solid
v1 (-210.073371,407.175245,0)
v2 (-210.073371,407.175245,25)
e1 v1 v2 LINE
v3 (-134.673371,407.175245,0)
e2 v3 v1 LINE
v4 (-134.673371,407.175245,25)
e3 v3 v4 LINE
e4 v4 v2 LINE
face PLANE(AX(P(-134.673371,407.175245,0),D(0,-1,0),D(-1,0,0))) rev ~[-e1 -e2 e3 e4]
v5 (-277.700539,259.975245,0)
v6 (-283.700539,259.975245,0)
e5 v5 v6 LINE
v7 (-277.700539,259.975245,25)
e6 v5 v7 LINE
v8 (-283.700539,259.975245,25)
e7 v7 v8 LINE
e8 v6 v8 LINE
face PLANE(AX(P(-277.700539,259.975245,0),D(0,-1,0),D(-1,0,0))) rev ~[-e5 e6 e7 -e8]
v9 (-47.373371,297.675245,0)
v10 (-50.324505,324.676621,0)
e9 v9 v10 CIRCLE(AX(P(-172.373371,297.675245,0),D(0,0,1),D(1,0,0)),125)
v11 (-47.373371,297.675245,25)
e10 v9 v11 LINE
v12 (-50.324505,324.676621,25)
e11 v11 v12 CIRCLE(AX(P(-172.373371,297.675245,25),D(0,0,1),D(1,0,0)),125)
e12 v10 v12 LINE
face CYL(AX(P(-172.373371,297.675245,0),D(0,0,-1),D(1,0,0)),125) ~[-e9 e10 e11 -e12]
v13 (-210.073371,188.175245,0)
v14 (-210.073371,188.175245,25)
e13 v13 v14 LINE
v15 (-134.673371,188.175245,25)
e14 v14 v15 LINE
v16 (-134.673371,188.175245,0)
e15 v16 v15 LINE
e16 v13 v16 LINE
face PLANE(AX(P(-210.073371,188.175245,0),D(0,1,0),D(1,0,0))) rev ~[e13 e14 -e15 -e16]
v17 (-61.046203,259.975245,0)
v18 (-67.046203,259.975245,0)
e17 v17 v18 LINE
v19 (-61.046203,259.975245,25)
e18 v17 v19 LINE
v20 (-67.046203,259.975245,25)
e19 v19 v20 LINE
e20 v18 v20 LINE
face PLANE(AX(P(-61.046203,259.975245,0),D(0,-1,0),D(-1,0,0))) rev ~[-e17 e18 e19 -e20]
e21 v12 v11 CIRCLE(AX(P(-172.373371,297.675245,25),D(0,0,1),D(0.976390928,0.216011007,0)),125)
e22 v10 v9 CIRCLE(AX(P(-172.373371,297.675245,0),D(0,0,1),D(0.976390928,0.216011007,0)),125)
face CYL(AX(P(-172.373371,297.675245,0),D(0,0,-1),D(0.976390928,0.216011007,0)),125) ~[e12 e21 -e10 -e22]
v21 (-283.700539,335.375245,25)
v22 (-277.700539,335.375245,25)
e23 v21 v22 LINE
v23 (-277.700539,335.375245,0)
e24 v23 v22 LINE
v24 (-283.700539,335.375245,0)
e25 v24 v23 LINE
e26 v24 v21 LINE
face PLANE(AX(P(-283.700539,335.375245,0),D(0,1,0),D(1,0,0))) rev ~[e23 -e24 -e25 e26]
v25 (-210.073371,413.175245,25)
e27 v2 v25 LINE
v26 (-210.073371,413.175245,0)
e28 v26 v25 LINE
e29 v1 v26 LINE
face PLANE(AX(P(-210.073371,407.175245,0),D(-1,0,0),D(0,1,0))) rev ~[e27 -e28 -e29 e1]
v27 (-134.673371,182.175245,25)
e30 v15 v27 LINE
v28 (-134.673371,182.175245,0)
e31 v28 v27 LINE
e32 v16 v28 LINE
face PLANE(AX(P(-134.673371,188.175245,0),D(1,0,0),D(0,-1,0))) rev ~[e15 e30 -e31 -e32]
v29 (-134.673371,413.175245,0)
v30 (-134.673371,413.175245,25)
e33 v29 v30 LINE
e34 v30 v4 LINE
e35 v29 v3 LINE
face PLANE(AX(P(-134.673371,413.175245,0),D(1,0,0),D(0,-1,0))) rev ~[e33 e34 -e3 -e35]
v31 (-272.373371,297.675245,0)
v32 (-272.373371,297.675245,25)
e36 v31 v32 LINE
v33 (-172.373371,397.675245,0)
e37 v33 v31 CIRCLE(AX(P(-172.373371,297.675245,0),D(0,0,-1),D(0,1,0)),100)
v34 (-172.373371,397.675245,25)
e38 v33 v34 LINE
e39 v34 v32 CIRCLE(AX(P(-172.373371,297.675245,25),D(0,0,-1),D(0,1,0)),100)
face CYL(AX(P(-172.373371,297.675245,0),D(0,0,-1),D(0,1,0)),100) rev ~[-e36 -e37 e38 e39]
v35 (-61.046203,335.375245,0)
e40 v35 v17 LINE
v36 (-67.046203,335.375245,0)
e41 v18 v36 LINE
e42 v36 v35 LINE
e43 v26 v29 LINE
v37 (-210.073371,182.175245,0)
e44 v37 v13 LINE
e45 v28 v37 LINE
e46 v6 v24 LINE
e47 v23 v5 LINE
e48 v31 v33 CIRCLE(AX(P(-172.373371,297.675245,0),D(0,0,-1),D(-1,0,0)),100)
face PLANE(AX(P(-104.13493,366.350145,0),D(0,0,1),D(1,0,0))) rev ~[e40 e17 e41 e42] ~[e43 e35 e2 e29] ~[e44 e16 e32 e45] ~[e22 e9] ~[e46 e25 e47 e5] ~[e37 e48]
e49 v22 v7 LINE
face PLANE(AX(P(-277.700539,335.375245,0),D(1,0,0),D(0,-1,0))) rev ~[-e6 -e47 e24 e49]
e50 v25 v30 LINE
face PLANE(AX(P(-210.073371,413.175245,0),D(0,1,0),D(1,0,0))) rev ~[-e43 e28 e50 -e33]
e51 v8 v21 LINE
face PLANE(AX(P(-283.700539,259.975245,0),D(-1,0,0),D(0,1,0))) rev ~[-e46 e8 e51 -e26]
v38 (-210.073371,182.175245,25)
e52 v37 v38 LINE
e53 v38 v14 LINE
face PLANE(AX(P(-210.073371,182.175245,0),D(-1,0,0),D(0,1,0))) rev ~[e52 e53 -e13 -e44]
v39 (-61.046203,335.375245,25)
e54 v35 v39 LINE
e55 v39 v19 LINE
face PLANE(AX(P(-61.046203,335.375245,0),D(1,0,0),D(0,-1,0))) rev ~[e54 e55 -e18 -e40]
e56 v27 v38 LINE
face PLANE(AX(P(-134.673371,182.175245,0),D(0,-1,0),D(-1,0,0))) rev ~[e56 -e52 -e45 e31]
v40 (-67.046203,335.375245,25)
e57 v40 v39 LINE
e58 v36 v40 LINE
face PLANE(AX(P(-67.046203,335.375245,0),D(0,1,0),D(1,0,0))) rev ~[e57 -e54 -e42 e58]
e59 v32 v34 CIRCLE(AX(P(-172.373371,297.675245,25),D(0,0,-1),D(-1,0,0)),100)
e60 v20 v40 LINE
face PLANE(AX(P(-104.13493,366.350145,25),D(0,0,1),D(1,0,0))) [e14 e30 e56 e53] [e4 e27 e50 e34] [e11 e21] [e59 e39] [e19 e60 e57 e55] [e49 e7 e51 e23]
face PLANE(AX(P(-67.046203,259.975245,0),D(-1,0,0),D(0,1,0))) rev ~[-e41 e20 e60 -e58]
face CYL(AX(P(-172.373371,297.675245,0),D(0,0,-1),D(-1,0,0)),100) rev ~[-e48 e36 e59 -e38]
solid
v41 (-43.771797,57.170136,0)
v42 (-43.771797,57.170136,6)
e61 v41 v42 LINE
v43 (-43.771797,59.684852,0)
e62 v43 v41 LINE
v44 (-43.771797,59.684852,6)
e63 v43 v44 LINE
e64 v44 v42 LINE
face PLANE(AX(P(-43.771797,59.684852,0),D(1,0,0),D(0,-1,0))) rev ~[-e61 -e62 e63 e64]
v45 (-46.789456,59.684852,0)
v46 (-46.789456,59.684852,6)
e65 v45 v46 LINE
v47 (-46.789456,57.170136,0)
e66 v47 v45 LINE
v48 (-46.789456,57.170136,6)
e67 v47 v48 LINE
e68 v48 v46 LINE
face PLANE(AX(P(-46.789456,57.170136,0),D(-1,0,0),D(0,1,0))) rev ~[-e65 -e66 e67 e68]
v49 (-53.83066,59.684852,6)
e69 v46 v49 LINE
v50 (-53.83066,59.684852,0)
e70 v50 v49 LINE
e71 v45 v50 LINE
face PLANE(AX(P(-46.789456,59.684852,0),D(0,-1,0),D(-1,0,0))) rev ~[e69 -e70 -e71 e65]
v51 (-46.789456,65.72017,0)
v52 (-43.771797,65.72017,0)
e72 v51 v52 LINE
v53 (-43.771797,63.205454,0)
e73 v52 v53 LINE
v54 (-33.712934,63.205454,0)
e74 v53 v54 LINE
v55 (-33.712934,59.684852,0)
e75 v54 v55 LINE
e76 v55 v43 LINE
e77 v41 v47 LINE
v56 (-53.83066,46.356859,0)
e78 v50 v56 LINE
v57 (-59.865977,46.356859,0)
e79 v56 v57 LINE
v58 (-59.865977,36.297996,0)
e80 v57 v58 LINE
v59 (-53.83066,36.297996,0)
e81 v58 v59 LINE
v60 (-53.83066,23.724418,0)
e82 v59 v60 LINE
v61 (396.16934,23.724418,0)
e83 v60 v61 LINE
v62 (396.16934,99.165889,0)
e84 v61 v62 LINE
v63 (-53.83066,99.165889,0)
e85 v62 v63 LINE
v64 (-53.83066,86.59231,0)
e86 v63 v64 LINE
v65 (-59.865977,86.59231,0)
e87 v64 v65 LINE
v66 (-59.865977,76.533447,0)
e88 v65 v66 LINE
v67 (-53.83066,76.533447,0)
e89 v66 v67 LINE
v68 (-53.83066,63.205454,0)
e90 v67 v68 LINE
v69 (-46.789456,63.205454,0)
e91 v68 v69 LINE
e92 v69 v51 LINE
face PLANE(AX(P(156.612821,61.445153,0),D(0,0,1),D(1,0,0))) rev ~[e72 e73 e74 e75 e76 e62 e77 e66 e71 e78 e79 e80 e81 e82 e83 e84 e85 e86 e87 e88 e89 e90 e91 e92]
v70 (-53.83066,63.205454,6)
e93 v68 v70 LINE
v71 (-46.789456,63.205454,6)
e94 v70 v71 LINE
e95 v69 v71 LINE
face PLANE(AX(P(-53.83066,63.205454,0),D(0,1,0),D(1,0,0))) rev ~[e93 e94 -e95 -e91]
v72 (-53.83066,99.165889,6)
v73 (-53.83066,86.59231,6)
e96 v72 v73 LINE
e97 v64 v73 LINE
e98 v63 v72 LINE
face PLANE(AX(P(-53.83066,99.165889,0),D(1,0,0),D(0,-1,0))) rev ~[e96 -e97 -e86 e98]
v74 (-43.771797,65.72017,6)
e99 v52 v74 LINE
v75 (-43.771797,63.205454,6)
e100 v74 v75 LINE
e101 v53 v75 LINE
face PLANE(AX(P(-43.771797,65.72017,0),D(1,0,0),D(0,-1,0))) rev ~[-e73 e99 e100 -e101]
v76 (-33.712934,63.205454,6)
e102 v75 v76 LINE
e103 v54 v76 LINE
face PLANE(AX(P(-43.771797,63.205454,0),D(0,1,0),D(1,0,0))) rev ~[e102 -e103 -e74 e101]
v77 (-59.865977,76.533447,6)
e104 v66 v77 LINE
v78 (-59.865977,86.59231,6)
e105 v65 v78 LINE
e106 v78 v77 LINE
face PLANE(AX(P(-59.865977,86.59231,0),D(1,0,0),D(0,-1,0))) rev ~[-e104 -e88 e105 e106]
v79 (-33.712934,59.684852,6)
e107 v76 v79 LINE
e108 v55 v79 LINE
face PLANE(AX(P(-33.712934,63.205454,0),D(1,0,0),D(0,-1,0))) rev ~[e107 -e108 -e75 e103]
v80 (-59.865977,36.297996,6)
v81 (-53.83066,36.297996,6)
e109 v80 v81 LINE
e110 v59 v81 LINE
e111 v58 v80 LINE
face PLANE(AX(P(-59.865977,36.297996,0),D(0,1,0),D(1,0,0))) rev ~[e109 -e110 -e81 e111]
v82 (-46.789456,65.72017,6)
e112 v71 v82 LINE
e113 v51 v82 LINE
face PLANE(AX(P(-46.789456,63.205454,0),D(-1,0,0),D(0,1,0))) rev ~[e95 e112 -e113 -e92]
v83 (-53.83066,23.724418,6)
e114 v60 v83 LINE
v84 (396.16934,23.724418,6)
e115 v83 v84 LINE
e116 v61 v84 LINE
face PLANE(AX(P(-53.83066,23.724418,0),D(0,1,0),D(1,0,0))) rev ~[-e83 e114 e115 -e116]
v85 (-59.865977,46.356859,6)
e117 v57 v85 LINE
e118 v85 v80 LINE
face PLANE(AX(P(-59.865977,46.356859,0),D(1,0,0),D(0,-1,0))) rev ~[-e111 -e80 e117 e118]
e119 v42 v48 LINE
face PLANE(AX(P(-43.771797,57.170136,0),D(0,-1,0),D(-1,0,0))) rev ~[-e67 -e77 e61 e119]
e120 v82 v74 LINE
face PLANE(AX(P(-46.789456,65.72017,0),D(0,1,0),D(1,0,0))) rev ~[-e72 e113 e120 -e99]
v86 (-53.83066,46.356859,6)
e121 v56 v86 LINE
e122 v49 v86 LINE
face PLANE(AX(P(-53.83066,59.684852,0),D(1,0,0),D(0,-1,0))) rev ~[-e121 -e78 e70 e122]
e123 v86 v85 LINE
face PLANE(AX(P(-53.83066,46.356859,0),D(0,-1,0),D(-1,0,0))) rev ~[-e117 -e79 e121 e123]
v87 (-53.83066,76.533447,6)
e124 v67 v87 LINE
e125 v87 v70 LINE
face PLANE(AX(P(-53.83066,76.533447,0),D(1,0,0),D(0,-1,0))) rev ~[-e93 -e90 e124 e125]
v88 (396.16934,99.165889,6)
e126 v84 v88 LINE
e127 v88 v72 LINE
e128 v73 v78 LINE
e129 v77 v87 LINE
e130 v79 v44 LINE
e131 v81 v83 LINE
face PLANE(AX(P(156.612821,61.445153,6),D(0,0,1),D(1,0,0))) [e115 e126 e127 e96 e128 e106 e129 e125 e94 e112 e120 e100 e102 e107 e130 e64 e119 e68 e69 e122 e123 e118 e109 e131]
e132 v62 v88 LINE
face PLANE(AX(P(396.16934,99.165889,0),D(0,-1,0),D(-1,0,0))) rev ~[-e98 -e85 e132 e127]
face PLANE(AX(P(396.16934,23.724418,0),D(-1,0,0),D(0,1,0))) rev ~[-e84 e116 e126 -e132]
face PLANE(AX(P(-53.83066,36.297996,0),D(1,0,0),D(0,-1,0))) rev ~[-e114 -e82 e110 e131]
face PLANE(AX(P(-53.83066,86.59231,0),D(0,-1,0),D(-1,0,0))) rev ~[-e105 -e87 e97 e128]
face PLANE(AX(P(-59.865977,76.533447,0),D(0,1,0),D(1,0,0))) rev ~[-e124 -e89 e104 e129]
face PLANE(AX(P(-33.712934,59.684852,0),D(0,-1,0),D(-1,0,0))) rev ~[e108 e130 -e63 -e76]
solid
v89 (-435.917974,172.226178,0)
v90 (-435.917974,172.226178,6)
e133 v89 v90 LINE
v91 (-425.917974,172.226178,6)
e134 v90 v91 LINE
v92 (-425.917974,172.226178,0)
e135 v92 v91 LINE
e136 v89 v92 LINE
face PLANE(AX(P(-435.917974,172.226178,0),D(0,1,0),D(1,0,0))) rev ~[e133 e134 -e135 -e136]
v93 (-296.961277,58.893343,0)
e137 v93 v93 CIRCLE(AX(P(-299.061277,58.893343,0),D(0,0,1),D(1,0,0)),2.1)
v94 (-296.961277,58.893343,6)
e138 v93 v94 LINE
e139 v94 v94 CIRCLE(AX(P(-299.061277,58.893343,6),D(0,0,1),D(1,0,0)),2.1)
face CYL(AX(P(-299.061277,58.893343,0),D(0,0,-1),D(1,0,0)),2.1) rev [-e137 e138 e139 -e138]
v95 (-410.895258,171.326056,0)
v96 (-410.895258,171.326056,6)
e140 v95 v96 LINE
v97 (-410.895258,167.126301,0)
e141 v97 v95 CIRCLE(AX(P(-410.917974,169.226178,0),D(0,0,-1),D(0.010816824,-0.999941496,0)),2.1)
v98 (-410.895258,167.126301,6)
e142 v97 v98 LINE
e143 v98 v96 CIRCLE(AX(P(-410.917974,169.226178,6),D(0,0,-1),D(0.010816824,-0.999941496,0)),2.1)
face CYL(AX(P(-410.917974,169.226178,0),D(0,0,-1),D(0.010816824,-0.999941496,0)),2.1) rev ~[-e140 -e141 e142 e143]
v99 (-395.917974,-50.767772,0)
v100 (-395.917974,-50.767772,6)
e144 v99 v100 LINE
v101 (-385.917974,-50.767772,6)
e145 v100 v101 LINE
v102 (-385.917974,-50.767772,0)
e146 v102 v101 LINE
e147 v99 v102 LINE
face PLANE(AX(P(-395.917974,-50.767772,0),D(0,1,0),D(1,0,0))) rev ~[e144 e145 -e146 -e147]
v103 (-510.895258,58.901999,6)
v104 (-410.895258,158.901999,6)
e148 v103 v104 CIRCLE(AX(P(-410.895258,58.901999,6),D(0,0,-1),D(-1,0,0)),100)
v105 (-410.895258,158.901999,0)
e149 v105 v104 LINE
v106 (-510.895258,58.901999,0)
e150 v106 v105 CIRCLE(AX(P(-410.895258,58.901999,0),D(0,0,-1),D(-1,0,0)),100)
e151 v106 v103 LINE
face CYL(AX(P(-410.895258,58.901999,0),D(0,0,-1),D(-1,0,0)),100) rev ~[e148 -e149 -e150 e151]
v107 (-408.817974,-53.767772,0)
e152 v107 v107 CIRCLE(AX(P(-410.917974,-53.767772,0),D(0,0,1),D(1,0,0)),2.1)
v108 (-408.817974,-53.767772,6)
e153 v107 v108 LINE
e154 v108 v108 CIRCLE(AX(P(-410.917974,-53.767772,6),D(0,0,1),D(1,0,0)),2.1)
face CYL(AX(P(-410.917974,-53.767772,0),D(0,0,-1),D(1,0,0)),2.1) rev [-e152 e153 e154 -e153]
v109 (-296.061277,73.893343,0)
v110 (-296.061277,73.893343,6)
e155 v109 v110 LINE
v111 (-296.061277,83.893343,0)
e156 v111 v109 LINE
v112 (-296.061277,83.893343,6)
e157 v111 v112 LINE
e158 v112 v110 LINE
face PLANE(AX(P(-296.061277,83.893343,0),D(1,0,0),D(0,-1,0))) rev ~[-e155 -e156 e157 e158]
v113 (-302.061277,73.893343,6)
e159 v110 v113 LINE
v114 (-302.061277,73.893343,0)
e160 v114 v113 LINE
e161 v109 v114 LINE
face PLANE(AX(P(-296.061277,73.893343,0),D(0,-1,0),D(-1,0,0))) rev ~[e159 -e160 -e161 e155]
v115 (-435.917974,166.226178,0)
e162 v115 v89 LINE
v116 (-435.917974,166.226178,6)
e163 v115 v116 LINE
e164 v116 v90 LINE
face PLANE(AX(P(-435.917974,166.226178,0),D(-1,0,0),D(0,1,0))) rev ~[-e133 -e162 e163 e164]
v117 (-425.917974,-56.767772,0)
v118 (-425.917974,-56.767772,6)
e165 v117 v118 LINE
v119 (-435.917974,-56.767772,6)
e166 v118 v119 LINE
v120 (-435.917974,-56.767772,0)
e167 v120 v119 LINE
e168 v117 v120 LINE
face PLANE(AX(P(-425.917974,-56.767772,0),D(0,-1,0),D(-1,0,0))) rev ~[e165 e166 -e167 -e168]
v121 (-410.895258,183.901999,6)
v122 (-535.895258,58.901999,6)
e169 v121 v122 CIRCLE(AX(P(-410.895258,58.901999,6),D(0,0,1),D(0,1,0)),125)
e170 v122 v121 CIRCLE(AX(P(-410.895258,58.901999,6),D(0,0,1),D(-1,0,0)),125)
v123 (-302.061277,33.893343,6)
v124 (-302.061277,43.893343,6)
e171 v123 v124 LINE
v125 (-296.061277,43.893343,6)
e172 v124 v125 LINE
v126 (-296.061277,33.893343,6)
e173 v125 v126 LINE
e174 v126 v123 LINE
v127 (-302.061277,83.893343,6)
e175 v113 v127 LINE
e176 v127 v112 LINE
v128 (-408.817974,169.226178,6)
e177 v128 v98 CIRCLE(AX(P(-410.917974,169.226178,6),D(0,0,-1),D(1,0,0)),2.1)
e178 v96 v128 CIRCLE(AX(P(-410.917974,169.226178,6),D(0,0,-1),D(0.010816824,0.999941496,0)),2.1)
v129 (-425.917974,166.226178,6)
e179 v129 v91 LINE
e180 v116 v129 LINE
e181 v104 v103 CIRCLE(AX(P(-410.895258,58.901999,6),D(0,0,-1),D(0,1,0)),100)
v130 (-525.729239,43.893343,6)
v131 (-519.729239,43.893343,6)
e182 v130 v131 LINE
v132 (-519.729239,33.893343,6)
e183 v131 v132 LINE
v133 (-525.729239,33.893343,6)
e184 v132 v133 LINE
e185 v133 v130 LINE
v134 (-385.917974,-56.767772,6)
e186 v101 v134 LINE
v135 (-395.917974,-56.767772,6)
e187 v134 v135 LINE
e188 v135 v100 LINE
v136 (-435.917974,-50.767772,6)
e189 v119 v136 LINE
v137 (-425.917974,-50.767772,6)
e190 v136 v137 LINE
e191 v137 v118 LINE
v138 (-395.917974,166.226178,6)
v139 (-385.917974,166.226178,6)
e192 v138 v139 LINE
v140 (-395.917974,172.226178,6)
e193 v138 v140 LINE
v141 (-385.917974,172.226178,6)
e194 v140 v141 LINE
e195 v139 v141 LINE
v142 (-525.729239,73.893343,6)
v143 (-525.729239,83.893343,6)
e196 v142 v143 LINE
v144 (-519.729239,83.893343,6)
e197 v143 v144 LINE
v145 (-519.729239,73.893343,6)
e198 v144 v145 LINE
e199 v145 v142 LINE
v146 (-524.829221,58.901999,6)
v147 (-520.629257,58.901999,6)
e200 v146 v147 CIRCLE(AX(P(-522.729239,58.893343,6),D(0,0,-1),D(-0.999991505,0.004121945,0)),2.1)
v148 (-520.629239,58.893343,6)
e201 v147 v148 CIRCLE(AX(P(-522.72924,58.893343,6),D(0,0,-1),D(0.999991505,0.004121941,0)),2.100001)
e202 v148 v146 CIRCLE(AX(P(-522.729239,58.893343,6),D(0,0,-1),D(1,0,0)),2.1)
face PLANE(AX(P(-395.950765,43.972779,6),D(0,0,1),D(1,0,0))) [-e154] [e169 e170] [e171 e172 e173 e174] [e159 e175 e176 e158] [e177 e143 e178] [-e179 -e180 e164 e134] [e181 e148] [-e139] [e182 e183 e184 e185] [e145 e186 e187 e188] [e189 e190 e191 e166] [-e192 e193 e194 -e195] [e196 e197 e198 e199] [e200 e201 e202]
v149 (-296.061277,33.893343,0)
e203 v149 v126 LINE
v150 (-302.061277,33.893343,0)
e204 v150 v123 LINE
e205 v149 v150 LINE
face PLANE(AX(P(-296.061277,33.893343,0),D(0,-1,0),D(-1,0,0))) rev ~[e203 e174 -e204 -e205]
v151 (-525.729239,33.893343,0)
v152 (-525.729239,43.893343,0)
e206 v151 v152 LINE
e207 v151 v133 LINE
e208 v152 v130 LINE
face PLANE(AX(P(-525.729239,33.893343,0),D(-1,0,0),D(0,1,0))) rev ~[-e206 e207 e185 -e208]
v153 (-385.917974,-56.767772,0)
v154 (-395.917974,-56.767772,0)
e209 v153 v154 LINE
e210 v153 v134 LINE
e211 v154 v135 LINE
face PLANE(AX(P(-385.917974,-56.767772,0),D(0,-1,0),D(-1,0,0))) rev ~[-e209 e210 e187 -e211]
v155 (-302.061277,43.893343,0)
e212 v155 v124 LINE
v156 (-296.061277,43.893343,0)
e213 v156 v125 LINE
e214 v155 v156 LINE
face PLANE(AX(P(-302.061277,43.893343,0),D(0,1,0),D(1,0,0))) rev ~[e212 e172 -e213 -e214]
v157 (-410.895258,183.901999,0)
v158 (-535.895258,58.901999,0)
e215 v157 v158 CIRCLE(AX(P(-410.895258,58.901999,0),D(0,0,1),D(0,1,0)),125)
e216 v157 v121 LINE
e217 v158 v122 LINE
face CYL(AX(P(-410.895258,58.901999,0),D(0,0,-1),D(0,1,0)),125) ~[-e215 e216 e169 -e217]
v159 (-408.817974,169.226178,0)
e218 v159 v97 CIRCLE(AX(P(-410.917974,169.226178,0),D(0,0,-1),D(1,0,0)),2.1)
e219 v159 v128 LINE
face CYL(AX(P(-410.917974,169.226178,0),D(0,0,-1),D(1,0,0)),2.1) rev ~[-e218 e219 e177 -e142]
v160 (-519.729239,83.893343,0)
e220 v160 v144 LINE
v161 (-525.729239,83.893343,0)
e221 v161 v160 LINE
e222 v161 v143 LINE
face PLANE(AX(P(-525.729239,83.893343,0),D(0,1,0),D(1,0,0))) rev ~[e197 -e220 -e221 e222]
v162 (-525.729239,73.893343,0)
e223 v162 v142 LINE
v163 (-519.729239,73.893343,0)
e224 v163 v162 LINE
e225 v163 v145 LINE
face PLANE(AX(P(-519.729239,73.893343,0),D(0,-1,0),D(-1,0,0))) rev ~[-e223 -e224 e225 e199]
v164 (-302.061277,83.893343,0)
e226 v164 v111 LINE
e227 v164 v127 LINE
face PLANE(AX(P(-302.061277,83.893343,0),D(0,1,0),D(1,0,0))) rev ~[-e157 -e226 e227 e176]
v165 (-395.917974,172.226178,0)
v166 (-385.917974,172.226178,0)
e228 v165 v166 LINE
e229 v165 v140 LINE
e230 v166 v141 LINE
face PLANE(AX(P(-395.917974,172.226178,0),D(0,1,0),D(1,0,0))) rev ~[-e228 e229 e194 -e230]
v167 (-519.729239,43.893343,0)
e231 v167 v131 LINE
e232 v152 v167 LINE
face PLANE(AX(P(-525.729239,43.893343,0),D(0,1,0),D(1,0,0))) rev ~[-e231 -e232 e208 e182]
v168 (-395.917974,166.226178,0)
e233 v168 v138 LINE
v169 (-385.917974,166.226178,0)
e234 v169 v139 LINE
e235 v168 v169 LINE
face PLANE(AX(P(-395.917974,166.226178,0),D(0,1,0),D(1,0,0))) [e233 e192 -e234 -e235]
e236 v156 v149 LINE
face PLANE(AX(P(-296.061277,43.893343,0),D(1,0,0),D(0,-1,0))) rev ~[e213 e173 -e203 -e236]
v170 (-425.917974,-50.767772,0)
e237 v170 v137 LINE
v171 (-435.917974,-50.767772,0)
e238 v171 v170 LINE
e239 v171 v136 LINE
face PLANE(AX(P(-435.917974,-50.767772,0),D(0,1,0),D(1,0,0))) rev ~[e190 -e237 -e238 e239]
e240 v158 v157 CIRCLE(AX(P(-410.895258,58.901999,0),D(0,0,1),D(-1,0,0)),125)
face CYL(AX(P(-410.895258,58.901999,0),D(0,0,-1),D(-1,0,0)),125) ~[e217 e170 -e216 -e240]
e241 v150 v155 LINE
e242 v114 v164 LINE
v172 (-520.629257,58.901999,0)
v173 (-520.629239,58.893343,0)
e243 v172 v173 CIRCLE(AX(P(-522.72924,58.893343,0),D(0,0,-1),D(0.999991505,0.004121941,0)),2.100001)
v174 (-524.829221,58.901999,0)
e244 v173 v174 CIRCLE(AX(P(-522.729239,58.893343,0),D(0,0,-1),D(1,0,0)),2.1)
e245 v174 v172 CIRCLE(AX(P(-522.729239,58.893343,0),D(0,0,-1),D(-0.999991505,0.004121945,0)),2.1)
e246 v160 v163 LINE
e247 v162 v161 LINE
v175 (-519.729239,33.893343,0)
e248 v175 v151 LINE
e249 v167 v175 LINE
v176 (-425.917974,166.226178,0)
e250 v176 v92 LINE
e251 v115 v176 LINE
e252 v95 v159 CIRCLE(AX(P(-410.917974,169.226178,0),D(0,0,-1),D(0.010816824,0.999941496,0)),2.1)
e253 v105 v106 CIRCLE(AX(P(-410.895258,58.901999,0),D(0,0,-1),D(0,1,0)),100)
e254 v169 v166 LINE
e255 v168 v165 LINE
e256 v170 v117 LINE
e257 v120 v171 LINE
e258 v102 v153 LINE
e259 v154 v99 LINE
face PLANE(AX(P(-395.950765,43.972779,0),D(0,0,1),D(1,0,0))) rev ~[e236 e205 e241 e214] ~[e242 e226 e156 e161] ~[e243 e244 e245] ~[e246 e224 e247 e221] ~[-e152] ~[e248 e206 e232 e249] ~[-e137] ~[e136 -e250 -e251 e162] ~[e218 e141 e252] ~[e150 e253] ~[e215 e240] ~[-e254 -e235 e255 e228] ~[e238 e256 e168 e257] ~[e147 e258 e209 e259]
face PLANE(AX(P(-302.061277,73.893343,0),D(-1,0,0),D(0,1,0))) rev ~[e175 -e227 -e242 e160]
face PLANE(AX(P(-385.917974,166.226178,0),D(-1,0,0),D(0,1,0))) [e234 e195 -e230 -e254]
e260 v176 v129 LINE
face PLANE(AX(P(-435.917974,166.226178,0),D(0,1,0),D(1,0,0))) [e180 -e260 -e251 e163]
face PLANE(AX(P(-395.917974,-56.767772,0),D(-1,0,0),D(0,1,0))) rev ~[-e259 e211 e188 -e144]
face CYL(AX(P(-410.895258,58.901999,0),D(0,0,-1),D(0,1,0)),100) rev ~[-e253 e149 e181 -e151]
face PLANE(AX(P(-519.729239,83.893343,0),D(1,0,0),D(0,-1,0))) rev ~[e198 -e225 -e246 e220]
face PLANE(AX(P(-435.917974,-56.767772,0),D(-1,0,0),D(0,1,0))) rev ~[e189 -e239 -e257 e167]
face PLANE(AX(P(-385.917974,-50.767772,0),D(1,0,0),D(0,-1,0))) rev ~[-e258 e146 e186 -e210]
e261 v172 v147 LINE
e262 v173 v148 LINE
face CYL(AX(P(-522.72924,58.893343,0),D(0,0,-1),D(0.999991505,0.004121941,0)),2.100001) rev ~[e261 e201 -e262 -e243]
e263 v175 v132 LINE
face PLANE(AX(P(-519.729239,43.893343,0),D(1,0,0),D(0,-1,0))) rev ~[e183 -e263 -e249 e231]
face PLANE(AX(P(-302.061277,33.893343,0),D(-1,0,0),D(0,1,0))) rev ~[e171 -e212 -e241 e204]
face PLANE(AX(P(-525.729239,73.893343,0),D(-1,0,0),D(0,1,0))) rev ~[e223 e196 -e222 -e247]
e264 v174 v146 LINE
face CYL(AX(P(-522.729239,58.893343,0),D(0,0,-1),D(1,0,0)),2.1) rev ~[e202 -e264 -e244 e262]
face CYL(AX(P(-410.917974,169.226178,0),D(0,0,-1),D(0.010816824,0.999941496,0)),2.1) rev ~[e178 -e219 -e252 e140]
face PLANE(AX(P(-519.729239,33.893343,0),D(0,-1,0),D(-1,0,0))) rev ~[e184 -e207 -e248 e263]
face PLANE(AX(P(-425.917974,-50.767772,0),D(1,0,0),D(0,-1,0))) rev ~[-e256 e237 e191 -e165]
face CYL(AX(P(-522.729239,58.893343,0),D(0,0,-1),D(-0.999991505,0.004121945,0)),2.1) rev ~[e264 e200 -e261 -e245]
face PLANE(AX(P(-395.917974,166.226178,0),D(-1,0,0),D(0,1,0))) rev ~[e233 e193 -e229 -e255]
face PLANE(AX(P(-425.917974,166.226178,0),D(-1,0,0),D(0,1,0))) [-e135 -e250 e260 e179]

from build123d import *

# Parameters (mm, degrees)
F1_DEPTH = 6
F2_R     = 2.1
F2_W     = 10
F2_H     = 6
F3_DEPTH = 6
F4_DEPTH = 25
F6_DEPTH = 25


with BuildPart() as f1:
    # F0 (on Top) → F1 (new body)
    with BuildSketch(Plane.XY):
        Polygon((279.1693404089, 99.1658887499), (-53.8306595911, 99.1658887499), (-53.8306595911, 86.5923102222), (-59.8659772844, 86.5923102222), (-59.8659772844, 76.5334474001), (-53.8306595911, 76.5334474001), (-53.8306595911, 63.2054541607), (-46.7894556156, 63.2054541607), (-46.7894556156, 65.7201698663), (-43.7717967689, 65.7201698663), (-43.7717967689, 63.2054541607), (-33.7129339468, 63.2054541607), (-33.7129339468, 59.684852173), (-43.7717967689, 59.684852173), (-43.7717967689, 57.1701364674), (-46.7894556156, 57.1701364674), (-46.7894556156, 59.684852173), (-53.8306595911, 59.684852173), (-53.8306595911, 46.3568589336), (-59.8659772844, 46.3568589336), (-59.8659772844, 36.2979961115), (-53.8306595911, 36.2979961115), (-53.8306595911, 23.7244175838), (279.1693404089, 23.7244175838), (396.1693404089, 23.7244175838), (396.1693404089, 99.1658887499), align=None)
    extrude(amount=F1_DEPTH)

    # F2 (on Top) → F4 (cut)
    with BuildSketch(Plane.XY):
        with BuildLine():
            ThreePointArc((-535.8952581882, 58.9019991457), (-410.8952581882, -66.0980008543), (-285.8952581882, 58.9019991457))
            ThreePointArc((-285.8952581882, 58.9019991457), (-322.5069105399, 147.2903467941), (-410.8952581882, 183.9019991457))
            Line((-410.8952581882, 183.9019991457), (-410.8952581882, 171.3260555502))
            ThreePointArc((-410.8952581882, 171.3260555502), (-409.4250397969, 170.7030497302), (-408.8179735184, 169.2261784077))
            ThreePointArc((-408.8179735184, 169.2261784077), (-409.4250397969, 167.7493070851), (-410.8952581882, 167.1263012651))
            Line((-410.8952581882, 167.1263012651), (-410.8952581882, 158.9019991457))
            ThreePointArc((-410.8952581882, 158.9019991457), (-340.1845800696, 129.6126772644), (-310.8952581882, 58.9019991457))
            ThreePointArc((-310.8952581882, 58.9019991457), (-410.8952581882, -41.0980008543), (-510.8952581882, 58.9019991457))
            Line((-510.8952581882, 58.9019991457), (-520.629256827, 58.9019991457))
            ThreePointArc((-520.629256827, 58.9019991457), (-520.629243447, 58.8976711127), (-520.629238987, 58.8933430612))
            ThreePointArc((-520.629238987, 58.8933430612), (-522.7335670384, 56.7933475212), (-524.8292211469, 58.9019991457))
            Line((-524.8292211469, 58.9019991457), (-535.8952581882, 58.9019991457))
        make_face()
        Polygon((-435.9179735184, -50.7677718997), (-430.9179735184, -50.7677718997), (-425.9179735184, -50.7677718997), (-425.9179735184, -53.7677718997), (-425.9179735184, -56.7677718997), (-430.9179735184, -56.7677718997), (-435.9179735184, -56.7677718997), (-435.9179735184, -53.7677718997), align=None, mode=Mode.SUBTRACT)
        with Locations((-410.9179735184, -53.7677718997)):
            Circle(F2_R, mode=Mode.SUBTRACT)
        Polygon((-519.729238987, 43.8933430612), (-519.729238987, 38.8933430612), (-519.729238987, 33.8933430612), (-522.729238987, 33.8933430612), (-525.729238987, 33.8933430612), (-525.729238987, 38.8933430612), (-525.729238987, 43.8933430612), (-522.729238987, 43.8933430612), align=None, mode=Mode.SUBTRACT)
        Polygon((-395.9179735184, -56.7677718997), (-395.9179735184, -53.7677718997), (-395.9179735184, -50.7677718997), (-390.9179735184, -50.7677718997), (-385.9179735184, -50.7677718997), (-385.9179735184, -53.7677718997), (-385.9179735184, -56.7677718997), (-390.9179735184, -56.7677718997), align=None, mode=Mode.SUBTRACT)
        Polygon((-296.0612773895, 33.8933430612), (-299.0612773895, 33.8933430612), (-302.0612773895, 33.8933430612), (-302.0612773895, 38.8933430612), (-302.0612773895, 43.8933430612), (-299.0612773895, 43.8933430612), (-296.0612773895, 43.8933430612), (-296.0612773895, 38.8933430612), align=None, mode=Mode.SUBTRACT)
        with Locations((-299.0612773895, 58.8933430612)):
            Circle(F2_R, mode=Mode.SUBTRACT)
        Polygon((-296.0612773895, 73.8933430612), (-299.0612773895, 73.8933430612), (-302.0612773895, 73.8933430612), (-302.0612773895, 78.8933430612), (-302.0612773895, 83.8933430612), (-299.0612773895, 83.8933430612), (-296.0612773895, 83.8933430612), (-296.0612773895, 78.8933430612), align=None, mode=Mode.SUBTRACT)
        with Locations((-390.9179735184, 169.2261784077)):
            Rectangle(F2_W, F2_H, mode=Mode.SUBTRACT)
        with BuildLine():
            Line((-410.8952581882, 171.3260555502), (-410.8952581882, 183.9019991457))
            ThreePointArc((-410.8952581882, 183.9019991457), (-499.2836058366, 147.2903467941), (-535.8952581882, 58.9019991457))
            Line((-535.8952581882, 58.9019991457), (-524.8292211469, 58.9019991457))
            ThreePointArc((-524.8292211469, 58.9019991457), (-522.729238987, 60.9933430612), (-520.629256827, 58.9019991457))
            Line((-520.629256827, 58.9019991457), (-510.8952581882, 58.9019991457))
            ThreePointArc((-510.8952581882, 58.9019991457), (-481.6059363069, 129.6126772644), (-410.8952581882, 158.9019991457))
            Line((-410.8952581882, 158.9019991457), (-410.8952581882, 167.1263012651))
            ThreePointArc((-410.8952581882, 167.1263012651), (-413.0179735184, 169.2261784077), (-410.8952581882, 171.3260555502))
        make_face()
        Polygon((-519.729238987, 73.8933430612), (-522.729238987, 73.8933430612), (-525.729238987, 73.8933430612), (-525.729238987, 78.8933430612), (-525.729238987, 83.8933430612), (-522.729238987, 83.8933430612), (-519.729238987, 83.8933430612), (-519.729238987, 78.8933430612), align=None, mode=Mode.SUBTRACT)
        with Locations((-430.9179735184, 169.2261784077)):
            Rectangle(F2_W, F2_H, mode=Mode.SUBTRACT)
    extrude(amount=-F4_DEPTH, mode=Mode.SUBTRACT)


with BuildPart() as f3:
    # F2 (on Top) → F3 (new body)
    with BuildSketch(Plane.XY):
        with BuildLine():
            ThreePointArc((-535.8952581882, 58.9019991457), (-410.8952581882, -66.0980008543), (-285.8952581882, 58.9019991457))
            ThreePointArc((-285.8952581882, 58.9019991457), (-322.5069105399, 147.2903467941), (-410.8952581882, 183.9019991457))
            Line((-410.8952581882, 183.9019991457), (-410.8952581882, 171.3260555502))
            ThreePointArc((-410.8952581882, 171.3260555502), (-409.4250397969, 170.7030497302), (-408.8179735184, 169.2261784077))
            ThreePointArc((-408.8179735184, 169.2261784077), (-409.4250397969, 167.7493070851), (-410.8952581882, 167.1263012651))
            Line((-410.8952581882, 167.1263012651), (-410.8952581882, 158.9019991457))
            ThreePointArc((-410.8952581882, 158.9019991457), (-340.1845800696, 129.6126772644), (-310.8952581882, 58.9019991457))
            ThreePointArc((-310.8952581882, 58.9019991457), (-410.8952581882, -41.0980008543), (-510.8952581882, 58.9019991457))
            Line((-510.8952581882, 58.9019991457), (-520.629256827, 58.9019991457))
            ThreePointArc((-520.629256827, 58.9019991457), (-520.629243447, 58.8976711127), (-520.629238987, 58.8933430612))
            ThreePointArc((-520.629238987, 58.8933430612), (-522.7335670384, 56.7933475212), (-524.8292211469, 58.9019991457))
            Line((-524.8292211469, 58.9019991457), (-535.8952581882, 58.9019991457))
        make_face()
        Polygon((-435.9179735184, -50.7677718997), (-430.9179735184, -50.7677718997), (-425.9179735184, -50.7677718997), (-425.9179735184, -53.7677718997), (-425.9179735184, -56.7677718997), (-430.9179735184, -56.7677718997), (-435.9179735184, -56.7677718997), (-435.9179735184, -53.7677718997), align=None, mode=Mode.SUBTRACT)
        with Locations((-410.9179735184, -53.7677718997)):
            Circle(F2_R, mode=Mode.SUBTRACT)
        Polygon((-519.729238987, 43.8933430612), (-519.729238987, 38.8933430612), (-519.729238987, 33.8933430612), (-522.729238987, 33.8933430612), (-525.729238987, 33.8933430612), (-525.729238987, 38.8933430612), (-525.729238987, 43.8933430612), (-522.729238987, 43.8933430612), align=None, mode=Mode.SUBTRACT)
        Polygon((-395.9179735184, -56.7677718997), (-395.9179735184, -53.7677718997), (-395.9179735184, -50.7677718997), (-390.9179735184, -50.7677718997), (-385.9179735184, -50.7677718997), (-385.9179735184, -53.7677718997), (-385.9179735184, -56.7677718997), (-390.9179735184, -56.7677718997), align=None, mode=Mode.SUBTRACT)
        Polygon((-296.0612773895, 33.8933430612), (-299.0612773895, 33.8933430612), (-302.0612773895, 33.8933430612), (-302.0612773895, 38.8933430612), (-302.0612773895, 43.8933430612), (-299.0612773895, 43.8933430612), (-296.0612773895, 43.8933430612), (-296.0612773895, 38.8933430612), align=None, mode=Mode.SUBTRACT)
        with Locations((-299.0612773895, 58.8933430612)):
            Circle(F2_R, mode=Mode.SUBTRACT)
        Polygon((-296.0612773895, 73.8933430612), (-299.0612773895, 73.8933430612), (-302.0612773895, 73.8933430612), (-302.0612773895, 78.8933430612), (-302.0612773895, 83.8933430612), (-299.0612773895, 83.8933430612), (-296.0612773895, 83.8933430612), (-296.0612773895, 78.8933430612), align=None, mode=Mode.SUBTRACT)
        with Locations((-390.9179735184, 169.2261784077)):
            Rectangle(F2_W, F2_H, mode=Mode.SUBTRACT)
        with BuildLine():
            Line((-410.8952581882, 171.3260555502), (-410.8952581882, 183.9019991457))
            ThreePointArc((-410.8952581882, 183.9019991457), (-499.2836058366, 147.2903467941), (-535.8952581882, 58.9019991457))
            Line((-535.8952581882, 58.9019991457), (-524.8292211469, 58.9019991457))
            ThreePointArc((-524.8292211469, 58.9019991457), (-522.729238987, 60.9933430612), (-520.629256827, 58.9019991457))
            Line((-520.629256827, 58.9019991457), (-510.8952581882, 58.9019991457))
            ThreePointArc((-510.8952581882, 58.9019991457), (-481.6059363069, 129.6126772644), (-410.8952581882, 158.9019991457))
            Line((-410.8952581882, 158.9019991457), (-410.8952581882, 167.1263012651))
            ThreePointArc((-410.8952581882, 167.1263012651), (-413.0179735184, 169.2261784077), (-410.8952581882, 171.3260555502))
        make_face()
        Polygon((-519.729238987, 73.8933430612), (-522.729238987, 73.8933430612), (-525.729238987, 73.8933430612), (-525.729238987, 78.8933430612), (-525.729238987, 83.8933430612), (-522.729238987, 83.8933430612), (-519.729238987, 83.8933430612), (-519.729238987, 78.8933430612), align=None, mode=Mode.SUBTRACT)
        with Locations((-430.9179735184, 169.2261784077)):
            Rectangle(F2_W, F2_H, mode=Mode.SUBTRACT)
    extrude(amount=F3_DEPTH)


with BuildPart() as f6:
    # F5 (on Top) → F6 (new body)
    with BuildSketch(Plane.XY):
        with BuildLine():
            Line((-61.0462027192, 297.6752446951), (-47.3733710892, 297.6752446951))
            ThreePointArc((-47.3733710892, 297.6752446951), (-48.1133448219, 311.256329779), (-50.3245050421, 324.6766205232))
            ThreePointArc((-50.3245050421, 324.6766205232), (-94.1115412438, 395.1436292578), (-172.3733710892, 422.6752446951))
            Line((-172.3733710892, 422.6752446951), (-172.3733710892, 413.1752446951))
            Line((-172.3733710892, 413.1752446951), (-134.6733710892, 413.1752446951))
            Line((-134.6733710892, 413.1752446951), (-134.6733710892, 410.1752446951))
            Line((-134.6733710892, 410.1752446951), (-134.6733710892, 407.1752446951))
            Line((-134.6733710892, 407.1752446951), (-172.3733710892, 407.1752446951))
            Line((-172.3733710892, 407.1752446951), (-172.3733710892, 397.6752446951))
            ThreePointArc((-172.3733710892, 397.6752446951), (-101.6626929706, 368.3859228138), (-72.3733710892, 297.6752446951))
            Line((-72.3733710892, 297.6752446951), (-67.0462027192, 297.6752446951))
            Line((-67.0462027192, 297.6752446951), (-67.0462027192, 335.3752446951))
            Line((-67.0462027192, 335.3752446951), (-61.0462027192, 335.3752446951))
            Line((-61.0462027192, 335.3752446951), (-61.0462027192, 297.6752446951))
        make_face()
        with BuildLine():
            ThreePointArc((-297.3733710892, 297.6752446951), (-172.3733710892, 172.6752446951), (-47.3733710892, 297.6752446951))
            Line((-47.3733710892, 297.6752446951), (-61.0462027192, 297.6752446951))
            Line((-61.0462027192, 297.6752446951), (-61.0462027192, 259.9752446951))
            Line((-61.0462027192, 259.9752446951), (-67.0462027192, 259.9752446951))
            Line((-67.0462027192, 259.9752446951), (-67.0462027192, 297.6752446951))
            Line((-67.0462027192, 297.6752446951), (-72.3733710892, 297.6752446951))
            ThreePointArc((-72.3733710892, 297.6752446951), (-172.3733710892, 197.6752446951), (-272.3733710892, 297.6752446951))
            Line((-272.3733710892, 297.6752446951), (-277.7005394592, 297.6752446951))
            Line((-277.7005394592, 297.6752446951), (-277.7005394592, 259.9752446951))
            Line((-277.7005394592, 259.9752446951), (-283.7005394592, 259.9752446951))
            Line((-283.7005394592, 259.9752446951), (-283.7005394592, 297.6752446951))
            Line((-283.7005394592, 297.6752446951), (-297.3733710892, 297.6752446951))
        make_face()
        Polygon((-134.6733710892, 185.1752446951), (-134.6733710892, 182.1752446951), (-172.3733710892, 182.1752446951), (-210.0733710892, 182.1752446951), (-210.0733710892, 185.1752446951), (-210.0733710892, 188.1752446951), (-172.3733710892, 188.1752446951), (-134.6733710892, 188.1752446951), align=None, mode=Mode.SUBTRACT)
        with BuildLine():
            ThreePointArc((-172.3733710892, 422.6752446951), (-260.7617187375, 386.0635923434), (-297.3733710892, 297.6752446951))
            Line((-297.3733710892, 297.6752446951), (-283.7005394592, 297.6752446951))
            Line((-283.7005394592, 297.6752446951), (-283.7005394592, 335.3752446951))
            Line((-283.7005394592, 335.3752446951), (-277.7005394592, 335.3752446951))
            Line((-277.7005394592, 335.3752446951), (-277.7005394592, 297.6752446951))
            Line((-277.7005394592, 297.6752446951), (-272.3733710892, 297.6752446951))
            ThreePointArc((-272.3733710892, 297.6752446951), (-243.0840492079, 368.3859228138), (-172.3733710892, 397.6752446951))
            Line((-172.3733710892, 397.6752446951), (-172.3733710892, 407.1752446951))
            Line((-172.3733710892, 407.1752446951), (-210.0733710892, 407.1752446951))
            Line((-210.0733710892, 407.1752446951), (-210.0733710892, 410.1752446951))
            Line((-210.0733710892, 410.1752446951), (-210.0733710892, 413.1752446951))
            Line((-210.0733710892, 413.1752446951), (-172.3733710892, 413.1752446951))
            Line((-172.3733710892, 413.1752446951), (-172.3733710892, 422.6752446951))
        make_face()
    extrude(amount=F6_DEPTH)


solid = Compound([f1.part, f3.part, f6.part])
